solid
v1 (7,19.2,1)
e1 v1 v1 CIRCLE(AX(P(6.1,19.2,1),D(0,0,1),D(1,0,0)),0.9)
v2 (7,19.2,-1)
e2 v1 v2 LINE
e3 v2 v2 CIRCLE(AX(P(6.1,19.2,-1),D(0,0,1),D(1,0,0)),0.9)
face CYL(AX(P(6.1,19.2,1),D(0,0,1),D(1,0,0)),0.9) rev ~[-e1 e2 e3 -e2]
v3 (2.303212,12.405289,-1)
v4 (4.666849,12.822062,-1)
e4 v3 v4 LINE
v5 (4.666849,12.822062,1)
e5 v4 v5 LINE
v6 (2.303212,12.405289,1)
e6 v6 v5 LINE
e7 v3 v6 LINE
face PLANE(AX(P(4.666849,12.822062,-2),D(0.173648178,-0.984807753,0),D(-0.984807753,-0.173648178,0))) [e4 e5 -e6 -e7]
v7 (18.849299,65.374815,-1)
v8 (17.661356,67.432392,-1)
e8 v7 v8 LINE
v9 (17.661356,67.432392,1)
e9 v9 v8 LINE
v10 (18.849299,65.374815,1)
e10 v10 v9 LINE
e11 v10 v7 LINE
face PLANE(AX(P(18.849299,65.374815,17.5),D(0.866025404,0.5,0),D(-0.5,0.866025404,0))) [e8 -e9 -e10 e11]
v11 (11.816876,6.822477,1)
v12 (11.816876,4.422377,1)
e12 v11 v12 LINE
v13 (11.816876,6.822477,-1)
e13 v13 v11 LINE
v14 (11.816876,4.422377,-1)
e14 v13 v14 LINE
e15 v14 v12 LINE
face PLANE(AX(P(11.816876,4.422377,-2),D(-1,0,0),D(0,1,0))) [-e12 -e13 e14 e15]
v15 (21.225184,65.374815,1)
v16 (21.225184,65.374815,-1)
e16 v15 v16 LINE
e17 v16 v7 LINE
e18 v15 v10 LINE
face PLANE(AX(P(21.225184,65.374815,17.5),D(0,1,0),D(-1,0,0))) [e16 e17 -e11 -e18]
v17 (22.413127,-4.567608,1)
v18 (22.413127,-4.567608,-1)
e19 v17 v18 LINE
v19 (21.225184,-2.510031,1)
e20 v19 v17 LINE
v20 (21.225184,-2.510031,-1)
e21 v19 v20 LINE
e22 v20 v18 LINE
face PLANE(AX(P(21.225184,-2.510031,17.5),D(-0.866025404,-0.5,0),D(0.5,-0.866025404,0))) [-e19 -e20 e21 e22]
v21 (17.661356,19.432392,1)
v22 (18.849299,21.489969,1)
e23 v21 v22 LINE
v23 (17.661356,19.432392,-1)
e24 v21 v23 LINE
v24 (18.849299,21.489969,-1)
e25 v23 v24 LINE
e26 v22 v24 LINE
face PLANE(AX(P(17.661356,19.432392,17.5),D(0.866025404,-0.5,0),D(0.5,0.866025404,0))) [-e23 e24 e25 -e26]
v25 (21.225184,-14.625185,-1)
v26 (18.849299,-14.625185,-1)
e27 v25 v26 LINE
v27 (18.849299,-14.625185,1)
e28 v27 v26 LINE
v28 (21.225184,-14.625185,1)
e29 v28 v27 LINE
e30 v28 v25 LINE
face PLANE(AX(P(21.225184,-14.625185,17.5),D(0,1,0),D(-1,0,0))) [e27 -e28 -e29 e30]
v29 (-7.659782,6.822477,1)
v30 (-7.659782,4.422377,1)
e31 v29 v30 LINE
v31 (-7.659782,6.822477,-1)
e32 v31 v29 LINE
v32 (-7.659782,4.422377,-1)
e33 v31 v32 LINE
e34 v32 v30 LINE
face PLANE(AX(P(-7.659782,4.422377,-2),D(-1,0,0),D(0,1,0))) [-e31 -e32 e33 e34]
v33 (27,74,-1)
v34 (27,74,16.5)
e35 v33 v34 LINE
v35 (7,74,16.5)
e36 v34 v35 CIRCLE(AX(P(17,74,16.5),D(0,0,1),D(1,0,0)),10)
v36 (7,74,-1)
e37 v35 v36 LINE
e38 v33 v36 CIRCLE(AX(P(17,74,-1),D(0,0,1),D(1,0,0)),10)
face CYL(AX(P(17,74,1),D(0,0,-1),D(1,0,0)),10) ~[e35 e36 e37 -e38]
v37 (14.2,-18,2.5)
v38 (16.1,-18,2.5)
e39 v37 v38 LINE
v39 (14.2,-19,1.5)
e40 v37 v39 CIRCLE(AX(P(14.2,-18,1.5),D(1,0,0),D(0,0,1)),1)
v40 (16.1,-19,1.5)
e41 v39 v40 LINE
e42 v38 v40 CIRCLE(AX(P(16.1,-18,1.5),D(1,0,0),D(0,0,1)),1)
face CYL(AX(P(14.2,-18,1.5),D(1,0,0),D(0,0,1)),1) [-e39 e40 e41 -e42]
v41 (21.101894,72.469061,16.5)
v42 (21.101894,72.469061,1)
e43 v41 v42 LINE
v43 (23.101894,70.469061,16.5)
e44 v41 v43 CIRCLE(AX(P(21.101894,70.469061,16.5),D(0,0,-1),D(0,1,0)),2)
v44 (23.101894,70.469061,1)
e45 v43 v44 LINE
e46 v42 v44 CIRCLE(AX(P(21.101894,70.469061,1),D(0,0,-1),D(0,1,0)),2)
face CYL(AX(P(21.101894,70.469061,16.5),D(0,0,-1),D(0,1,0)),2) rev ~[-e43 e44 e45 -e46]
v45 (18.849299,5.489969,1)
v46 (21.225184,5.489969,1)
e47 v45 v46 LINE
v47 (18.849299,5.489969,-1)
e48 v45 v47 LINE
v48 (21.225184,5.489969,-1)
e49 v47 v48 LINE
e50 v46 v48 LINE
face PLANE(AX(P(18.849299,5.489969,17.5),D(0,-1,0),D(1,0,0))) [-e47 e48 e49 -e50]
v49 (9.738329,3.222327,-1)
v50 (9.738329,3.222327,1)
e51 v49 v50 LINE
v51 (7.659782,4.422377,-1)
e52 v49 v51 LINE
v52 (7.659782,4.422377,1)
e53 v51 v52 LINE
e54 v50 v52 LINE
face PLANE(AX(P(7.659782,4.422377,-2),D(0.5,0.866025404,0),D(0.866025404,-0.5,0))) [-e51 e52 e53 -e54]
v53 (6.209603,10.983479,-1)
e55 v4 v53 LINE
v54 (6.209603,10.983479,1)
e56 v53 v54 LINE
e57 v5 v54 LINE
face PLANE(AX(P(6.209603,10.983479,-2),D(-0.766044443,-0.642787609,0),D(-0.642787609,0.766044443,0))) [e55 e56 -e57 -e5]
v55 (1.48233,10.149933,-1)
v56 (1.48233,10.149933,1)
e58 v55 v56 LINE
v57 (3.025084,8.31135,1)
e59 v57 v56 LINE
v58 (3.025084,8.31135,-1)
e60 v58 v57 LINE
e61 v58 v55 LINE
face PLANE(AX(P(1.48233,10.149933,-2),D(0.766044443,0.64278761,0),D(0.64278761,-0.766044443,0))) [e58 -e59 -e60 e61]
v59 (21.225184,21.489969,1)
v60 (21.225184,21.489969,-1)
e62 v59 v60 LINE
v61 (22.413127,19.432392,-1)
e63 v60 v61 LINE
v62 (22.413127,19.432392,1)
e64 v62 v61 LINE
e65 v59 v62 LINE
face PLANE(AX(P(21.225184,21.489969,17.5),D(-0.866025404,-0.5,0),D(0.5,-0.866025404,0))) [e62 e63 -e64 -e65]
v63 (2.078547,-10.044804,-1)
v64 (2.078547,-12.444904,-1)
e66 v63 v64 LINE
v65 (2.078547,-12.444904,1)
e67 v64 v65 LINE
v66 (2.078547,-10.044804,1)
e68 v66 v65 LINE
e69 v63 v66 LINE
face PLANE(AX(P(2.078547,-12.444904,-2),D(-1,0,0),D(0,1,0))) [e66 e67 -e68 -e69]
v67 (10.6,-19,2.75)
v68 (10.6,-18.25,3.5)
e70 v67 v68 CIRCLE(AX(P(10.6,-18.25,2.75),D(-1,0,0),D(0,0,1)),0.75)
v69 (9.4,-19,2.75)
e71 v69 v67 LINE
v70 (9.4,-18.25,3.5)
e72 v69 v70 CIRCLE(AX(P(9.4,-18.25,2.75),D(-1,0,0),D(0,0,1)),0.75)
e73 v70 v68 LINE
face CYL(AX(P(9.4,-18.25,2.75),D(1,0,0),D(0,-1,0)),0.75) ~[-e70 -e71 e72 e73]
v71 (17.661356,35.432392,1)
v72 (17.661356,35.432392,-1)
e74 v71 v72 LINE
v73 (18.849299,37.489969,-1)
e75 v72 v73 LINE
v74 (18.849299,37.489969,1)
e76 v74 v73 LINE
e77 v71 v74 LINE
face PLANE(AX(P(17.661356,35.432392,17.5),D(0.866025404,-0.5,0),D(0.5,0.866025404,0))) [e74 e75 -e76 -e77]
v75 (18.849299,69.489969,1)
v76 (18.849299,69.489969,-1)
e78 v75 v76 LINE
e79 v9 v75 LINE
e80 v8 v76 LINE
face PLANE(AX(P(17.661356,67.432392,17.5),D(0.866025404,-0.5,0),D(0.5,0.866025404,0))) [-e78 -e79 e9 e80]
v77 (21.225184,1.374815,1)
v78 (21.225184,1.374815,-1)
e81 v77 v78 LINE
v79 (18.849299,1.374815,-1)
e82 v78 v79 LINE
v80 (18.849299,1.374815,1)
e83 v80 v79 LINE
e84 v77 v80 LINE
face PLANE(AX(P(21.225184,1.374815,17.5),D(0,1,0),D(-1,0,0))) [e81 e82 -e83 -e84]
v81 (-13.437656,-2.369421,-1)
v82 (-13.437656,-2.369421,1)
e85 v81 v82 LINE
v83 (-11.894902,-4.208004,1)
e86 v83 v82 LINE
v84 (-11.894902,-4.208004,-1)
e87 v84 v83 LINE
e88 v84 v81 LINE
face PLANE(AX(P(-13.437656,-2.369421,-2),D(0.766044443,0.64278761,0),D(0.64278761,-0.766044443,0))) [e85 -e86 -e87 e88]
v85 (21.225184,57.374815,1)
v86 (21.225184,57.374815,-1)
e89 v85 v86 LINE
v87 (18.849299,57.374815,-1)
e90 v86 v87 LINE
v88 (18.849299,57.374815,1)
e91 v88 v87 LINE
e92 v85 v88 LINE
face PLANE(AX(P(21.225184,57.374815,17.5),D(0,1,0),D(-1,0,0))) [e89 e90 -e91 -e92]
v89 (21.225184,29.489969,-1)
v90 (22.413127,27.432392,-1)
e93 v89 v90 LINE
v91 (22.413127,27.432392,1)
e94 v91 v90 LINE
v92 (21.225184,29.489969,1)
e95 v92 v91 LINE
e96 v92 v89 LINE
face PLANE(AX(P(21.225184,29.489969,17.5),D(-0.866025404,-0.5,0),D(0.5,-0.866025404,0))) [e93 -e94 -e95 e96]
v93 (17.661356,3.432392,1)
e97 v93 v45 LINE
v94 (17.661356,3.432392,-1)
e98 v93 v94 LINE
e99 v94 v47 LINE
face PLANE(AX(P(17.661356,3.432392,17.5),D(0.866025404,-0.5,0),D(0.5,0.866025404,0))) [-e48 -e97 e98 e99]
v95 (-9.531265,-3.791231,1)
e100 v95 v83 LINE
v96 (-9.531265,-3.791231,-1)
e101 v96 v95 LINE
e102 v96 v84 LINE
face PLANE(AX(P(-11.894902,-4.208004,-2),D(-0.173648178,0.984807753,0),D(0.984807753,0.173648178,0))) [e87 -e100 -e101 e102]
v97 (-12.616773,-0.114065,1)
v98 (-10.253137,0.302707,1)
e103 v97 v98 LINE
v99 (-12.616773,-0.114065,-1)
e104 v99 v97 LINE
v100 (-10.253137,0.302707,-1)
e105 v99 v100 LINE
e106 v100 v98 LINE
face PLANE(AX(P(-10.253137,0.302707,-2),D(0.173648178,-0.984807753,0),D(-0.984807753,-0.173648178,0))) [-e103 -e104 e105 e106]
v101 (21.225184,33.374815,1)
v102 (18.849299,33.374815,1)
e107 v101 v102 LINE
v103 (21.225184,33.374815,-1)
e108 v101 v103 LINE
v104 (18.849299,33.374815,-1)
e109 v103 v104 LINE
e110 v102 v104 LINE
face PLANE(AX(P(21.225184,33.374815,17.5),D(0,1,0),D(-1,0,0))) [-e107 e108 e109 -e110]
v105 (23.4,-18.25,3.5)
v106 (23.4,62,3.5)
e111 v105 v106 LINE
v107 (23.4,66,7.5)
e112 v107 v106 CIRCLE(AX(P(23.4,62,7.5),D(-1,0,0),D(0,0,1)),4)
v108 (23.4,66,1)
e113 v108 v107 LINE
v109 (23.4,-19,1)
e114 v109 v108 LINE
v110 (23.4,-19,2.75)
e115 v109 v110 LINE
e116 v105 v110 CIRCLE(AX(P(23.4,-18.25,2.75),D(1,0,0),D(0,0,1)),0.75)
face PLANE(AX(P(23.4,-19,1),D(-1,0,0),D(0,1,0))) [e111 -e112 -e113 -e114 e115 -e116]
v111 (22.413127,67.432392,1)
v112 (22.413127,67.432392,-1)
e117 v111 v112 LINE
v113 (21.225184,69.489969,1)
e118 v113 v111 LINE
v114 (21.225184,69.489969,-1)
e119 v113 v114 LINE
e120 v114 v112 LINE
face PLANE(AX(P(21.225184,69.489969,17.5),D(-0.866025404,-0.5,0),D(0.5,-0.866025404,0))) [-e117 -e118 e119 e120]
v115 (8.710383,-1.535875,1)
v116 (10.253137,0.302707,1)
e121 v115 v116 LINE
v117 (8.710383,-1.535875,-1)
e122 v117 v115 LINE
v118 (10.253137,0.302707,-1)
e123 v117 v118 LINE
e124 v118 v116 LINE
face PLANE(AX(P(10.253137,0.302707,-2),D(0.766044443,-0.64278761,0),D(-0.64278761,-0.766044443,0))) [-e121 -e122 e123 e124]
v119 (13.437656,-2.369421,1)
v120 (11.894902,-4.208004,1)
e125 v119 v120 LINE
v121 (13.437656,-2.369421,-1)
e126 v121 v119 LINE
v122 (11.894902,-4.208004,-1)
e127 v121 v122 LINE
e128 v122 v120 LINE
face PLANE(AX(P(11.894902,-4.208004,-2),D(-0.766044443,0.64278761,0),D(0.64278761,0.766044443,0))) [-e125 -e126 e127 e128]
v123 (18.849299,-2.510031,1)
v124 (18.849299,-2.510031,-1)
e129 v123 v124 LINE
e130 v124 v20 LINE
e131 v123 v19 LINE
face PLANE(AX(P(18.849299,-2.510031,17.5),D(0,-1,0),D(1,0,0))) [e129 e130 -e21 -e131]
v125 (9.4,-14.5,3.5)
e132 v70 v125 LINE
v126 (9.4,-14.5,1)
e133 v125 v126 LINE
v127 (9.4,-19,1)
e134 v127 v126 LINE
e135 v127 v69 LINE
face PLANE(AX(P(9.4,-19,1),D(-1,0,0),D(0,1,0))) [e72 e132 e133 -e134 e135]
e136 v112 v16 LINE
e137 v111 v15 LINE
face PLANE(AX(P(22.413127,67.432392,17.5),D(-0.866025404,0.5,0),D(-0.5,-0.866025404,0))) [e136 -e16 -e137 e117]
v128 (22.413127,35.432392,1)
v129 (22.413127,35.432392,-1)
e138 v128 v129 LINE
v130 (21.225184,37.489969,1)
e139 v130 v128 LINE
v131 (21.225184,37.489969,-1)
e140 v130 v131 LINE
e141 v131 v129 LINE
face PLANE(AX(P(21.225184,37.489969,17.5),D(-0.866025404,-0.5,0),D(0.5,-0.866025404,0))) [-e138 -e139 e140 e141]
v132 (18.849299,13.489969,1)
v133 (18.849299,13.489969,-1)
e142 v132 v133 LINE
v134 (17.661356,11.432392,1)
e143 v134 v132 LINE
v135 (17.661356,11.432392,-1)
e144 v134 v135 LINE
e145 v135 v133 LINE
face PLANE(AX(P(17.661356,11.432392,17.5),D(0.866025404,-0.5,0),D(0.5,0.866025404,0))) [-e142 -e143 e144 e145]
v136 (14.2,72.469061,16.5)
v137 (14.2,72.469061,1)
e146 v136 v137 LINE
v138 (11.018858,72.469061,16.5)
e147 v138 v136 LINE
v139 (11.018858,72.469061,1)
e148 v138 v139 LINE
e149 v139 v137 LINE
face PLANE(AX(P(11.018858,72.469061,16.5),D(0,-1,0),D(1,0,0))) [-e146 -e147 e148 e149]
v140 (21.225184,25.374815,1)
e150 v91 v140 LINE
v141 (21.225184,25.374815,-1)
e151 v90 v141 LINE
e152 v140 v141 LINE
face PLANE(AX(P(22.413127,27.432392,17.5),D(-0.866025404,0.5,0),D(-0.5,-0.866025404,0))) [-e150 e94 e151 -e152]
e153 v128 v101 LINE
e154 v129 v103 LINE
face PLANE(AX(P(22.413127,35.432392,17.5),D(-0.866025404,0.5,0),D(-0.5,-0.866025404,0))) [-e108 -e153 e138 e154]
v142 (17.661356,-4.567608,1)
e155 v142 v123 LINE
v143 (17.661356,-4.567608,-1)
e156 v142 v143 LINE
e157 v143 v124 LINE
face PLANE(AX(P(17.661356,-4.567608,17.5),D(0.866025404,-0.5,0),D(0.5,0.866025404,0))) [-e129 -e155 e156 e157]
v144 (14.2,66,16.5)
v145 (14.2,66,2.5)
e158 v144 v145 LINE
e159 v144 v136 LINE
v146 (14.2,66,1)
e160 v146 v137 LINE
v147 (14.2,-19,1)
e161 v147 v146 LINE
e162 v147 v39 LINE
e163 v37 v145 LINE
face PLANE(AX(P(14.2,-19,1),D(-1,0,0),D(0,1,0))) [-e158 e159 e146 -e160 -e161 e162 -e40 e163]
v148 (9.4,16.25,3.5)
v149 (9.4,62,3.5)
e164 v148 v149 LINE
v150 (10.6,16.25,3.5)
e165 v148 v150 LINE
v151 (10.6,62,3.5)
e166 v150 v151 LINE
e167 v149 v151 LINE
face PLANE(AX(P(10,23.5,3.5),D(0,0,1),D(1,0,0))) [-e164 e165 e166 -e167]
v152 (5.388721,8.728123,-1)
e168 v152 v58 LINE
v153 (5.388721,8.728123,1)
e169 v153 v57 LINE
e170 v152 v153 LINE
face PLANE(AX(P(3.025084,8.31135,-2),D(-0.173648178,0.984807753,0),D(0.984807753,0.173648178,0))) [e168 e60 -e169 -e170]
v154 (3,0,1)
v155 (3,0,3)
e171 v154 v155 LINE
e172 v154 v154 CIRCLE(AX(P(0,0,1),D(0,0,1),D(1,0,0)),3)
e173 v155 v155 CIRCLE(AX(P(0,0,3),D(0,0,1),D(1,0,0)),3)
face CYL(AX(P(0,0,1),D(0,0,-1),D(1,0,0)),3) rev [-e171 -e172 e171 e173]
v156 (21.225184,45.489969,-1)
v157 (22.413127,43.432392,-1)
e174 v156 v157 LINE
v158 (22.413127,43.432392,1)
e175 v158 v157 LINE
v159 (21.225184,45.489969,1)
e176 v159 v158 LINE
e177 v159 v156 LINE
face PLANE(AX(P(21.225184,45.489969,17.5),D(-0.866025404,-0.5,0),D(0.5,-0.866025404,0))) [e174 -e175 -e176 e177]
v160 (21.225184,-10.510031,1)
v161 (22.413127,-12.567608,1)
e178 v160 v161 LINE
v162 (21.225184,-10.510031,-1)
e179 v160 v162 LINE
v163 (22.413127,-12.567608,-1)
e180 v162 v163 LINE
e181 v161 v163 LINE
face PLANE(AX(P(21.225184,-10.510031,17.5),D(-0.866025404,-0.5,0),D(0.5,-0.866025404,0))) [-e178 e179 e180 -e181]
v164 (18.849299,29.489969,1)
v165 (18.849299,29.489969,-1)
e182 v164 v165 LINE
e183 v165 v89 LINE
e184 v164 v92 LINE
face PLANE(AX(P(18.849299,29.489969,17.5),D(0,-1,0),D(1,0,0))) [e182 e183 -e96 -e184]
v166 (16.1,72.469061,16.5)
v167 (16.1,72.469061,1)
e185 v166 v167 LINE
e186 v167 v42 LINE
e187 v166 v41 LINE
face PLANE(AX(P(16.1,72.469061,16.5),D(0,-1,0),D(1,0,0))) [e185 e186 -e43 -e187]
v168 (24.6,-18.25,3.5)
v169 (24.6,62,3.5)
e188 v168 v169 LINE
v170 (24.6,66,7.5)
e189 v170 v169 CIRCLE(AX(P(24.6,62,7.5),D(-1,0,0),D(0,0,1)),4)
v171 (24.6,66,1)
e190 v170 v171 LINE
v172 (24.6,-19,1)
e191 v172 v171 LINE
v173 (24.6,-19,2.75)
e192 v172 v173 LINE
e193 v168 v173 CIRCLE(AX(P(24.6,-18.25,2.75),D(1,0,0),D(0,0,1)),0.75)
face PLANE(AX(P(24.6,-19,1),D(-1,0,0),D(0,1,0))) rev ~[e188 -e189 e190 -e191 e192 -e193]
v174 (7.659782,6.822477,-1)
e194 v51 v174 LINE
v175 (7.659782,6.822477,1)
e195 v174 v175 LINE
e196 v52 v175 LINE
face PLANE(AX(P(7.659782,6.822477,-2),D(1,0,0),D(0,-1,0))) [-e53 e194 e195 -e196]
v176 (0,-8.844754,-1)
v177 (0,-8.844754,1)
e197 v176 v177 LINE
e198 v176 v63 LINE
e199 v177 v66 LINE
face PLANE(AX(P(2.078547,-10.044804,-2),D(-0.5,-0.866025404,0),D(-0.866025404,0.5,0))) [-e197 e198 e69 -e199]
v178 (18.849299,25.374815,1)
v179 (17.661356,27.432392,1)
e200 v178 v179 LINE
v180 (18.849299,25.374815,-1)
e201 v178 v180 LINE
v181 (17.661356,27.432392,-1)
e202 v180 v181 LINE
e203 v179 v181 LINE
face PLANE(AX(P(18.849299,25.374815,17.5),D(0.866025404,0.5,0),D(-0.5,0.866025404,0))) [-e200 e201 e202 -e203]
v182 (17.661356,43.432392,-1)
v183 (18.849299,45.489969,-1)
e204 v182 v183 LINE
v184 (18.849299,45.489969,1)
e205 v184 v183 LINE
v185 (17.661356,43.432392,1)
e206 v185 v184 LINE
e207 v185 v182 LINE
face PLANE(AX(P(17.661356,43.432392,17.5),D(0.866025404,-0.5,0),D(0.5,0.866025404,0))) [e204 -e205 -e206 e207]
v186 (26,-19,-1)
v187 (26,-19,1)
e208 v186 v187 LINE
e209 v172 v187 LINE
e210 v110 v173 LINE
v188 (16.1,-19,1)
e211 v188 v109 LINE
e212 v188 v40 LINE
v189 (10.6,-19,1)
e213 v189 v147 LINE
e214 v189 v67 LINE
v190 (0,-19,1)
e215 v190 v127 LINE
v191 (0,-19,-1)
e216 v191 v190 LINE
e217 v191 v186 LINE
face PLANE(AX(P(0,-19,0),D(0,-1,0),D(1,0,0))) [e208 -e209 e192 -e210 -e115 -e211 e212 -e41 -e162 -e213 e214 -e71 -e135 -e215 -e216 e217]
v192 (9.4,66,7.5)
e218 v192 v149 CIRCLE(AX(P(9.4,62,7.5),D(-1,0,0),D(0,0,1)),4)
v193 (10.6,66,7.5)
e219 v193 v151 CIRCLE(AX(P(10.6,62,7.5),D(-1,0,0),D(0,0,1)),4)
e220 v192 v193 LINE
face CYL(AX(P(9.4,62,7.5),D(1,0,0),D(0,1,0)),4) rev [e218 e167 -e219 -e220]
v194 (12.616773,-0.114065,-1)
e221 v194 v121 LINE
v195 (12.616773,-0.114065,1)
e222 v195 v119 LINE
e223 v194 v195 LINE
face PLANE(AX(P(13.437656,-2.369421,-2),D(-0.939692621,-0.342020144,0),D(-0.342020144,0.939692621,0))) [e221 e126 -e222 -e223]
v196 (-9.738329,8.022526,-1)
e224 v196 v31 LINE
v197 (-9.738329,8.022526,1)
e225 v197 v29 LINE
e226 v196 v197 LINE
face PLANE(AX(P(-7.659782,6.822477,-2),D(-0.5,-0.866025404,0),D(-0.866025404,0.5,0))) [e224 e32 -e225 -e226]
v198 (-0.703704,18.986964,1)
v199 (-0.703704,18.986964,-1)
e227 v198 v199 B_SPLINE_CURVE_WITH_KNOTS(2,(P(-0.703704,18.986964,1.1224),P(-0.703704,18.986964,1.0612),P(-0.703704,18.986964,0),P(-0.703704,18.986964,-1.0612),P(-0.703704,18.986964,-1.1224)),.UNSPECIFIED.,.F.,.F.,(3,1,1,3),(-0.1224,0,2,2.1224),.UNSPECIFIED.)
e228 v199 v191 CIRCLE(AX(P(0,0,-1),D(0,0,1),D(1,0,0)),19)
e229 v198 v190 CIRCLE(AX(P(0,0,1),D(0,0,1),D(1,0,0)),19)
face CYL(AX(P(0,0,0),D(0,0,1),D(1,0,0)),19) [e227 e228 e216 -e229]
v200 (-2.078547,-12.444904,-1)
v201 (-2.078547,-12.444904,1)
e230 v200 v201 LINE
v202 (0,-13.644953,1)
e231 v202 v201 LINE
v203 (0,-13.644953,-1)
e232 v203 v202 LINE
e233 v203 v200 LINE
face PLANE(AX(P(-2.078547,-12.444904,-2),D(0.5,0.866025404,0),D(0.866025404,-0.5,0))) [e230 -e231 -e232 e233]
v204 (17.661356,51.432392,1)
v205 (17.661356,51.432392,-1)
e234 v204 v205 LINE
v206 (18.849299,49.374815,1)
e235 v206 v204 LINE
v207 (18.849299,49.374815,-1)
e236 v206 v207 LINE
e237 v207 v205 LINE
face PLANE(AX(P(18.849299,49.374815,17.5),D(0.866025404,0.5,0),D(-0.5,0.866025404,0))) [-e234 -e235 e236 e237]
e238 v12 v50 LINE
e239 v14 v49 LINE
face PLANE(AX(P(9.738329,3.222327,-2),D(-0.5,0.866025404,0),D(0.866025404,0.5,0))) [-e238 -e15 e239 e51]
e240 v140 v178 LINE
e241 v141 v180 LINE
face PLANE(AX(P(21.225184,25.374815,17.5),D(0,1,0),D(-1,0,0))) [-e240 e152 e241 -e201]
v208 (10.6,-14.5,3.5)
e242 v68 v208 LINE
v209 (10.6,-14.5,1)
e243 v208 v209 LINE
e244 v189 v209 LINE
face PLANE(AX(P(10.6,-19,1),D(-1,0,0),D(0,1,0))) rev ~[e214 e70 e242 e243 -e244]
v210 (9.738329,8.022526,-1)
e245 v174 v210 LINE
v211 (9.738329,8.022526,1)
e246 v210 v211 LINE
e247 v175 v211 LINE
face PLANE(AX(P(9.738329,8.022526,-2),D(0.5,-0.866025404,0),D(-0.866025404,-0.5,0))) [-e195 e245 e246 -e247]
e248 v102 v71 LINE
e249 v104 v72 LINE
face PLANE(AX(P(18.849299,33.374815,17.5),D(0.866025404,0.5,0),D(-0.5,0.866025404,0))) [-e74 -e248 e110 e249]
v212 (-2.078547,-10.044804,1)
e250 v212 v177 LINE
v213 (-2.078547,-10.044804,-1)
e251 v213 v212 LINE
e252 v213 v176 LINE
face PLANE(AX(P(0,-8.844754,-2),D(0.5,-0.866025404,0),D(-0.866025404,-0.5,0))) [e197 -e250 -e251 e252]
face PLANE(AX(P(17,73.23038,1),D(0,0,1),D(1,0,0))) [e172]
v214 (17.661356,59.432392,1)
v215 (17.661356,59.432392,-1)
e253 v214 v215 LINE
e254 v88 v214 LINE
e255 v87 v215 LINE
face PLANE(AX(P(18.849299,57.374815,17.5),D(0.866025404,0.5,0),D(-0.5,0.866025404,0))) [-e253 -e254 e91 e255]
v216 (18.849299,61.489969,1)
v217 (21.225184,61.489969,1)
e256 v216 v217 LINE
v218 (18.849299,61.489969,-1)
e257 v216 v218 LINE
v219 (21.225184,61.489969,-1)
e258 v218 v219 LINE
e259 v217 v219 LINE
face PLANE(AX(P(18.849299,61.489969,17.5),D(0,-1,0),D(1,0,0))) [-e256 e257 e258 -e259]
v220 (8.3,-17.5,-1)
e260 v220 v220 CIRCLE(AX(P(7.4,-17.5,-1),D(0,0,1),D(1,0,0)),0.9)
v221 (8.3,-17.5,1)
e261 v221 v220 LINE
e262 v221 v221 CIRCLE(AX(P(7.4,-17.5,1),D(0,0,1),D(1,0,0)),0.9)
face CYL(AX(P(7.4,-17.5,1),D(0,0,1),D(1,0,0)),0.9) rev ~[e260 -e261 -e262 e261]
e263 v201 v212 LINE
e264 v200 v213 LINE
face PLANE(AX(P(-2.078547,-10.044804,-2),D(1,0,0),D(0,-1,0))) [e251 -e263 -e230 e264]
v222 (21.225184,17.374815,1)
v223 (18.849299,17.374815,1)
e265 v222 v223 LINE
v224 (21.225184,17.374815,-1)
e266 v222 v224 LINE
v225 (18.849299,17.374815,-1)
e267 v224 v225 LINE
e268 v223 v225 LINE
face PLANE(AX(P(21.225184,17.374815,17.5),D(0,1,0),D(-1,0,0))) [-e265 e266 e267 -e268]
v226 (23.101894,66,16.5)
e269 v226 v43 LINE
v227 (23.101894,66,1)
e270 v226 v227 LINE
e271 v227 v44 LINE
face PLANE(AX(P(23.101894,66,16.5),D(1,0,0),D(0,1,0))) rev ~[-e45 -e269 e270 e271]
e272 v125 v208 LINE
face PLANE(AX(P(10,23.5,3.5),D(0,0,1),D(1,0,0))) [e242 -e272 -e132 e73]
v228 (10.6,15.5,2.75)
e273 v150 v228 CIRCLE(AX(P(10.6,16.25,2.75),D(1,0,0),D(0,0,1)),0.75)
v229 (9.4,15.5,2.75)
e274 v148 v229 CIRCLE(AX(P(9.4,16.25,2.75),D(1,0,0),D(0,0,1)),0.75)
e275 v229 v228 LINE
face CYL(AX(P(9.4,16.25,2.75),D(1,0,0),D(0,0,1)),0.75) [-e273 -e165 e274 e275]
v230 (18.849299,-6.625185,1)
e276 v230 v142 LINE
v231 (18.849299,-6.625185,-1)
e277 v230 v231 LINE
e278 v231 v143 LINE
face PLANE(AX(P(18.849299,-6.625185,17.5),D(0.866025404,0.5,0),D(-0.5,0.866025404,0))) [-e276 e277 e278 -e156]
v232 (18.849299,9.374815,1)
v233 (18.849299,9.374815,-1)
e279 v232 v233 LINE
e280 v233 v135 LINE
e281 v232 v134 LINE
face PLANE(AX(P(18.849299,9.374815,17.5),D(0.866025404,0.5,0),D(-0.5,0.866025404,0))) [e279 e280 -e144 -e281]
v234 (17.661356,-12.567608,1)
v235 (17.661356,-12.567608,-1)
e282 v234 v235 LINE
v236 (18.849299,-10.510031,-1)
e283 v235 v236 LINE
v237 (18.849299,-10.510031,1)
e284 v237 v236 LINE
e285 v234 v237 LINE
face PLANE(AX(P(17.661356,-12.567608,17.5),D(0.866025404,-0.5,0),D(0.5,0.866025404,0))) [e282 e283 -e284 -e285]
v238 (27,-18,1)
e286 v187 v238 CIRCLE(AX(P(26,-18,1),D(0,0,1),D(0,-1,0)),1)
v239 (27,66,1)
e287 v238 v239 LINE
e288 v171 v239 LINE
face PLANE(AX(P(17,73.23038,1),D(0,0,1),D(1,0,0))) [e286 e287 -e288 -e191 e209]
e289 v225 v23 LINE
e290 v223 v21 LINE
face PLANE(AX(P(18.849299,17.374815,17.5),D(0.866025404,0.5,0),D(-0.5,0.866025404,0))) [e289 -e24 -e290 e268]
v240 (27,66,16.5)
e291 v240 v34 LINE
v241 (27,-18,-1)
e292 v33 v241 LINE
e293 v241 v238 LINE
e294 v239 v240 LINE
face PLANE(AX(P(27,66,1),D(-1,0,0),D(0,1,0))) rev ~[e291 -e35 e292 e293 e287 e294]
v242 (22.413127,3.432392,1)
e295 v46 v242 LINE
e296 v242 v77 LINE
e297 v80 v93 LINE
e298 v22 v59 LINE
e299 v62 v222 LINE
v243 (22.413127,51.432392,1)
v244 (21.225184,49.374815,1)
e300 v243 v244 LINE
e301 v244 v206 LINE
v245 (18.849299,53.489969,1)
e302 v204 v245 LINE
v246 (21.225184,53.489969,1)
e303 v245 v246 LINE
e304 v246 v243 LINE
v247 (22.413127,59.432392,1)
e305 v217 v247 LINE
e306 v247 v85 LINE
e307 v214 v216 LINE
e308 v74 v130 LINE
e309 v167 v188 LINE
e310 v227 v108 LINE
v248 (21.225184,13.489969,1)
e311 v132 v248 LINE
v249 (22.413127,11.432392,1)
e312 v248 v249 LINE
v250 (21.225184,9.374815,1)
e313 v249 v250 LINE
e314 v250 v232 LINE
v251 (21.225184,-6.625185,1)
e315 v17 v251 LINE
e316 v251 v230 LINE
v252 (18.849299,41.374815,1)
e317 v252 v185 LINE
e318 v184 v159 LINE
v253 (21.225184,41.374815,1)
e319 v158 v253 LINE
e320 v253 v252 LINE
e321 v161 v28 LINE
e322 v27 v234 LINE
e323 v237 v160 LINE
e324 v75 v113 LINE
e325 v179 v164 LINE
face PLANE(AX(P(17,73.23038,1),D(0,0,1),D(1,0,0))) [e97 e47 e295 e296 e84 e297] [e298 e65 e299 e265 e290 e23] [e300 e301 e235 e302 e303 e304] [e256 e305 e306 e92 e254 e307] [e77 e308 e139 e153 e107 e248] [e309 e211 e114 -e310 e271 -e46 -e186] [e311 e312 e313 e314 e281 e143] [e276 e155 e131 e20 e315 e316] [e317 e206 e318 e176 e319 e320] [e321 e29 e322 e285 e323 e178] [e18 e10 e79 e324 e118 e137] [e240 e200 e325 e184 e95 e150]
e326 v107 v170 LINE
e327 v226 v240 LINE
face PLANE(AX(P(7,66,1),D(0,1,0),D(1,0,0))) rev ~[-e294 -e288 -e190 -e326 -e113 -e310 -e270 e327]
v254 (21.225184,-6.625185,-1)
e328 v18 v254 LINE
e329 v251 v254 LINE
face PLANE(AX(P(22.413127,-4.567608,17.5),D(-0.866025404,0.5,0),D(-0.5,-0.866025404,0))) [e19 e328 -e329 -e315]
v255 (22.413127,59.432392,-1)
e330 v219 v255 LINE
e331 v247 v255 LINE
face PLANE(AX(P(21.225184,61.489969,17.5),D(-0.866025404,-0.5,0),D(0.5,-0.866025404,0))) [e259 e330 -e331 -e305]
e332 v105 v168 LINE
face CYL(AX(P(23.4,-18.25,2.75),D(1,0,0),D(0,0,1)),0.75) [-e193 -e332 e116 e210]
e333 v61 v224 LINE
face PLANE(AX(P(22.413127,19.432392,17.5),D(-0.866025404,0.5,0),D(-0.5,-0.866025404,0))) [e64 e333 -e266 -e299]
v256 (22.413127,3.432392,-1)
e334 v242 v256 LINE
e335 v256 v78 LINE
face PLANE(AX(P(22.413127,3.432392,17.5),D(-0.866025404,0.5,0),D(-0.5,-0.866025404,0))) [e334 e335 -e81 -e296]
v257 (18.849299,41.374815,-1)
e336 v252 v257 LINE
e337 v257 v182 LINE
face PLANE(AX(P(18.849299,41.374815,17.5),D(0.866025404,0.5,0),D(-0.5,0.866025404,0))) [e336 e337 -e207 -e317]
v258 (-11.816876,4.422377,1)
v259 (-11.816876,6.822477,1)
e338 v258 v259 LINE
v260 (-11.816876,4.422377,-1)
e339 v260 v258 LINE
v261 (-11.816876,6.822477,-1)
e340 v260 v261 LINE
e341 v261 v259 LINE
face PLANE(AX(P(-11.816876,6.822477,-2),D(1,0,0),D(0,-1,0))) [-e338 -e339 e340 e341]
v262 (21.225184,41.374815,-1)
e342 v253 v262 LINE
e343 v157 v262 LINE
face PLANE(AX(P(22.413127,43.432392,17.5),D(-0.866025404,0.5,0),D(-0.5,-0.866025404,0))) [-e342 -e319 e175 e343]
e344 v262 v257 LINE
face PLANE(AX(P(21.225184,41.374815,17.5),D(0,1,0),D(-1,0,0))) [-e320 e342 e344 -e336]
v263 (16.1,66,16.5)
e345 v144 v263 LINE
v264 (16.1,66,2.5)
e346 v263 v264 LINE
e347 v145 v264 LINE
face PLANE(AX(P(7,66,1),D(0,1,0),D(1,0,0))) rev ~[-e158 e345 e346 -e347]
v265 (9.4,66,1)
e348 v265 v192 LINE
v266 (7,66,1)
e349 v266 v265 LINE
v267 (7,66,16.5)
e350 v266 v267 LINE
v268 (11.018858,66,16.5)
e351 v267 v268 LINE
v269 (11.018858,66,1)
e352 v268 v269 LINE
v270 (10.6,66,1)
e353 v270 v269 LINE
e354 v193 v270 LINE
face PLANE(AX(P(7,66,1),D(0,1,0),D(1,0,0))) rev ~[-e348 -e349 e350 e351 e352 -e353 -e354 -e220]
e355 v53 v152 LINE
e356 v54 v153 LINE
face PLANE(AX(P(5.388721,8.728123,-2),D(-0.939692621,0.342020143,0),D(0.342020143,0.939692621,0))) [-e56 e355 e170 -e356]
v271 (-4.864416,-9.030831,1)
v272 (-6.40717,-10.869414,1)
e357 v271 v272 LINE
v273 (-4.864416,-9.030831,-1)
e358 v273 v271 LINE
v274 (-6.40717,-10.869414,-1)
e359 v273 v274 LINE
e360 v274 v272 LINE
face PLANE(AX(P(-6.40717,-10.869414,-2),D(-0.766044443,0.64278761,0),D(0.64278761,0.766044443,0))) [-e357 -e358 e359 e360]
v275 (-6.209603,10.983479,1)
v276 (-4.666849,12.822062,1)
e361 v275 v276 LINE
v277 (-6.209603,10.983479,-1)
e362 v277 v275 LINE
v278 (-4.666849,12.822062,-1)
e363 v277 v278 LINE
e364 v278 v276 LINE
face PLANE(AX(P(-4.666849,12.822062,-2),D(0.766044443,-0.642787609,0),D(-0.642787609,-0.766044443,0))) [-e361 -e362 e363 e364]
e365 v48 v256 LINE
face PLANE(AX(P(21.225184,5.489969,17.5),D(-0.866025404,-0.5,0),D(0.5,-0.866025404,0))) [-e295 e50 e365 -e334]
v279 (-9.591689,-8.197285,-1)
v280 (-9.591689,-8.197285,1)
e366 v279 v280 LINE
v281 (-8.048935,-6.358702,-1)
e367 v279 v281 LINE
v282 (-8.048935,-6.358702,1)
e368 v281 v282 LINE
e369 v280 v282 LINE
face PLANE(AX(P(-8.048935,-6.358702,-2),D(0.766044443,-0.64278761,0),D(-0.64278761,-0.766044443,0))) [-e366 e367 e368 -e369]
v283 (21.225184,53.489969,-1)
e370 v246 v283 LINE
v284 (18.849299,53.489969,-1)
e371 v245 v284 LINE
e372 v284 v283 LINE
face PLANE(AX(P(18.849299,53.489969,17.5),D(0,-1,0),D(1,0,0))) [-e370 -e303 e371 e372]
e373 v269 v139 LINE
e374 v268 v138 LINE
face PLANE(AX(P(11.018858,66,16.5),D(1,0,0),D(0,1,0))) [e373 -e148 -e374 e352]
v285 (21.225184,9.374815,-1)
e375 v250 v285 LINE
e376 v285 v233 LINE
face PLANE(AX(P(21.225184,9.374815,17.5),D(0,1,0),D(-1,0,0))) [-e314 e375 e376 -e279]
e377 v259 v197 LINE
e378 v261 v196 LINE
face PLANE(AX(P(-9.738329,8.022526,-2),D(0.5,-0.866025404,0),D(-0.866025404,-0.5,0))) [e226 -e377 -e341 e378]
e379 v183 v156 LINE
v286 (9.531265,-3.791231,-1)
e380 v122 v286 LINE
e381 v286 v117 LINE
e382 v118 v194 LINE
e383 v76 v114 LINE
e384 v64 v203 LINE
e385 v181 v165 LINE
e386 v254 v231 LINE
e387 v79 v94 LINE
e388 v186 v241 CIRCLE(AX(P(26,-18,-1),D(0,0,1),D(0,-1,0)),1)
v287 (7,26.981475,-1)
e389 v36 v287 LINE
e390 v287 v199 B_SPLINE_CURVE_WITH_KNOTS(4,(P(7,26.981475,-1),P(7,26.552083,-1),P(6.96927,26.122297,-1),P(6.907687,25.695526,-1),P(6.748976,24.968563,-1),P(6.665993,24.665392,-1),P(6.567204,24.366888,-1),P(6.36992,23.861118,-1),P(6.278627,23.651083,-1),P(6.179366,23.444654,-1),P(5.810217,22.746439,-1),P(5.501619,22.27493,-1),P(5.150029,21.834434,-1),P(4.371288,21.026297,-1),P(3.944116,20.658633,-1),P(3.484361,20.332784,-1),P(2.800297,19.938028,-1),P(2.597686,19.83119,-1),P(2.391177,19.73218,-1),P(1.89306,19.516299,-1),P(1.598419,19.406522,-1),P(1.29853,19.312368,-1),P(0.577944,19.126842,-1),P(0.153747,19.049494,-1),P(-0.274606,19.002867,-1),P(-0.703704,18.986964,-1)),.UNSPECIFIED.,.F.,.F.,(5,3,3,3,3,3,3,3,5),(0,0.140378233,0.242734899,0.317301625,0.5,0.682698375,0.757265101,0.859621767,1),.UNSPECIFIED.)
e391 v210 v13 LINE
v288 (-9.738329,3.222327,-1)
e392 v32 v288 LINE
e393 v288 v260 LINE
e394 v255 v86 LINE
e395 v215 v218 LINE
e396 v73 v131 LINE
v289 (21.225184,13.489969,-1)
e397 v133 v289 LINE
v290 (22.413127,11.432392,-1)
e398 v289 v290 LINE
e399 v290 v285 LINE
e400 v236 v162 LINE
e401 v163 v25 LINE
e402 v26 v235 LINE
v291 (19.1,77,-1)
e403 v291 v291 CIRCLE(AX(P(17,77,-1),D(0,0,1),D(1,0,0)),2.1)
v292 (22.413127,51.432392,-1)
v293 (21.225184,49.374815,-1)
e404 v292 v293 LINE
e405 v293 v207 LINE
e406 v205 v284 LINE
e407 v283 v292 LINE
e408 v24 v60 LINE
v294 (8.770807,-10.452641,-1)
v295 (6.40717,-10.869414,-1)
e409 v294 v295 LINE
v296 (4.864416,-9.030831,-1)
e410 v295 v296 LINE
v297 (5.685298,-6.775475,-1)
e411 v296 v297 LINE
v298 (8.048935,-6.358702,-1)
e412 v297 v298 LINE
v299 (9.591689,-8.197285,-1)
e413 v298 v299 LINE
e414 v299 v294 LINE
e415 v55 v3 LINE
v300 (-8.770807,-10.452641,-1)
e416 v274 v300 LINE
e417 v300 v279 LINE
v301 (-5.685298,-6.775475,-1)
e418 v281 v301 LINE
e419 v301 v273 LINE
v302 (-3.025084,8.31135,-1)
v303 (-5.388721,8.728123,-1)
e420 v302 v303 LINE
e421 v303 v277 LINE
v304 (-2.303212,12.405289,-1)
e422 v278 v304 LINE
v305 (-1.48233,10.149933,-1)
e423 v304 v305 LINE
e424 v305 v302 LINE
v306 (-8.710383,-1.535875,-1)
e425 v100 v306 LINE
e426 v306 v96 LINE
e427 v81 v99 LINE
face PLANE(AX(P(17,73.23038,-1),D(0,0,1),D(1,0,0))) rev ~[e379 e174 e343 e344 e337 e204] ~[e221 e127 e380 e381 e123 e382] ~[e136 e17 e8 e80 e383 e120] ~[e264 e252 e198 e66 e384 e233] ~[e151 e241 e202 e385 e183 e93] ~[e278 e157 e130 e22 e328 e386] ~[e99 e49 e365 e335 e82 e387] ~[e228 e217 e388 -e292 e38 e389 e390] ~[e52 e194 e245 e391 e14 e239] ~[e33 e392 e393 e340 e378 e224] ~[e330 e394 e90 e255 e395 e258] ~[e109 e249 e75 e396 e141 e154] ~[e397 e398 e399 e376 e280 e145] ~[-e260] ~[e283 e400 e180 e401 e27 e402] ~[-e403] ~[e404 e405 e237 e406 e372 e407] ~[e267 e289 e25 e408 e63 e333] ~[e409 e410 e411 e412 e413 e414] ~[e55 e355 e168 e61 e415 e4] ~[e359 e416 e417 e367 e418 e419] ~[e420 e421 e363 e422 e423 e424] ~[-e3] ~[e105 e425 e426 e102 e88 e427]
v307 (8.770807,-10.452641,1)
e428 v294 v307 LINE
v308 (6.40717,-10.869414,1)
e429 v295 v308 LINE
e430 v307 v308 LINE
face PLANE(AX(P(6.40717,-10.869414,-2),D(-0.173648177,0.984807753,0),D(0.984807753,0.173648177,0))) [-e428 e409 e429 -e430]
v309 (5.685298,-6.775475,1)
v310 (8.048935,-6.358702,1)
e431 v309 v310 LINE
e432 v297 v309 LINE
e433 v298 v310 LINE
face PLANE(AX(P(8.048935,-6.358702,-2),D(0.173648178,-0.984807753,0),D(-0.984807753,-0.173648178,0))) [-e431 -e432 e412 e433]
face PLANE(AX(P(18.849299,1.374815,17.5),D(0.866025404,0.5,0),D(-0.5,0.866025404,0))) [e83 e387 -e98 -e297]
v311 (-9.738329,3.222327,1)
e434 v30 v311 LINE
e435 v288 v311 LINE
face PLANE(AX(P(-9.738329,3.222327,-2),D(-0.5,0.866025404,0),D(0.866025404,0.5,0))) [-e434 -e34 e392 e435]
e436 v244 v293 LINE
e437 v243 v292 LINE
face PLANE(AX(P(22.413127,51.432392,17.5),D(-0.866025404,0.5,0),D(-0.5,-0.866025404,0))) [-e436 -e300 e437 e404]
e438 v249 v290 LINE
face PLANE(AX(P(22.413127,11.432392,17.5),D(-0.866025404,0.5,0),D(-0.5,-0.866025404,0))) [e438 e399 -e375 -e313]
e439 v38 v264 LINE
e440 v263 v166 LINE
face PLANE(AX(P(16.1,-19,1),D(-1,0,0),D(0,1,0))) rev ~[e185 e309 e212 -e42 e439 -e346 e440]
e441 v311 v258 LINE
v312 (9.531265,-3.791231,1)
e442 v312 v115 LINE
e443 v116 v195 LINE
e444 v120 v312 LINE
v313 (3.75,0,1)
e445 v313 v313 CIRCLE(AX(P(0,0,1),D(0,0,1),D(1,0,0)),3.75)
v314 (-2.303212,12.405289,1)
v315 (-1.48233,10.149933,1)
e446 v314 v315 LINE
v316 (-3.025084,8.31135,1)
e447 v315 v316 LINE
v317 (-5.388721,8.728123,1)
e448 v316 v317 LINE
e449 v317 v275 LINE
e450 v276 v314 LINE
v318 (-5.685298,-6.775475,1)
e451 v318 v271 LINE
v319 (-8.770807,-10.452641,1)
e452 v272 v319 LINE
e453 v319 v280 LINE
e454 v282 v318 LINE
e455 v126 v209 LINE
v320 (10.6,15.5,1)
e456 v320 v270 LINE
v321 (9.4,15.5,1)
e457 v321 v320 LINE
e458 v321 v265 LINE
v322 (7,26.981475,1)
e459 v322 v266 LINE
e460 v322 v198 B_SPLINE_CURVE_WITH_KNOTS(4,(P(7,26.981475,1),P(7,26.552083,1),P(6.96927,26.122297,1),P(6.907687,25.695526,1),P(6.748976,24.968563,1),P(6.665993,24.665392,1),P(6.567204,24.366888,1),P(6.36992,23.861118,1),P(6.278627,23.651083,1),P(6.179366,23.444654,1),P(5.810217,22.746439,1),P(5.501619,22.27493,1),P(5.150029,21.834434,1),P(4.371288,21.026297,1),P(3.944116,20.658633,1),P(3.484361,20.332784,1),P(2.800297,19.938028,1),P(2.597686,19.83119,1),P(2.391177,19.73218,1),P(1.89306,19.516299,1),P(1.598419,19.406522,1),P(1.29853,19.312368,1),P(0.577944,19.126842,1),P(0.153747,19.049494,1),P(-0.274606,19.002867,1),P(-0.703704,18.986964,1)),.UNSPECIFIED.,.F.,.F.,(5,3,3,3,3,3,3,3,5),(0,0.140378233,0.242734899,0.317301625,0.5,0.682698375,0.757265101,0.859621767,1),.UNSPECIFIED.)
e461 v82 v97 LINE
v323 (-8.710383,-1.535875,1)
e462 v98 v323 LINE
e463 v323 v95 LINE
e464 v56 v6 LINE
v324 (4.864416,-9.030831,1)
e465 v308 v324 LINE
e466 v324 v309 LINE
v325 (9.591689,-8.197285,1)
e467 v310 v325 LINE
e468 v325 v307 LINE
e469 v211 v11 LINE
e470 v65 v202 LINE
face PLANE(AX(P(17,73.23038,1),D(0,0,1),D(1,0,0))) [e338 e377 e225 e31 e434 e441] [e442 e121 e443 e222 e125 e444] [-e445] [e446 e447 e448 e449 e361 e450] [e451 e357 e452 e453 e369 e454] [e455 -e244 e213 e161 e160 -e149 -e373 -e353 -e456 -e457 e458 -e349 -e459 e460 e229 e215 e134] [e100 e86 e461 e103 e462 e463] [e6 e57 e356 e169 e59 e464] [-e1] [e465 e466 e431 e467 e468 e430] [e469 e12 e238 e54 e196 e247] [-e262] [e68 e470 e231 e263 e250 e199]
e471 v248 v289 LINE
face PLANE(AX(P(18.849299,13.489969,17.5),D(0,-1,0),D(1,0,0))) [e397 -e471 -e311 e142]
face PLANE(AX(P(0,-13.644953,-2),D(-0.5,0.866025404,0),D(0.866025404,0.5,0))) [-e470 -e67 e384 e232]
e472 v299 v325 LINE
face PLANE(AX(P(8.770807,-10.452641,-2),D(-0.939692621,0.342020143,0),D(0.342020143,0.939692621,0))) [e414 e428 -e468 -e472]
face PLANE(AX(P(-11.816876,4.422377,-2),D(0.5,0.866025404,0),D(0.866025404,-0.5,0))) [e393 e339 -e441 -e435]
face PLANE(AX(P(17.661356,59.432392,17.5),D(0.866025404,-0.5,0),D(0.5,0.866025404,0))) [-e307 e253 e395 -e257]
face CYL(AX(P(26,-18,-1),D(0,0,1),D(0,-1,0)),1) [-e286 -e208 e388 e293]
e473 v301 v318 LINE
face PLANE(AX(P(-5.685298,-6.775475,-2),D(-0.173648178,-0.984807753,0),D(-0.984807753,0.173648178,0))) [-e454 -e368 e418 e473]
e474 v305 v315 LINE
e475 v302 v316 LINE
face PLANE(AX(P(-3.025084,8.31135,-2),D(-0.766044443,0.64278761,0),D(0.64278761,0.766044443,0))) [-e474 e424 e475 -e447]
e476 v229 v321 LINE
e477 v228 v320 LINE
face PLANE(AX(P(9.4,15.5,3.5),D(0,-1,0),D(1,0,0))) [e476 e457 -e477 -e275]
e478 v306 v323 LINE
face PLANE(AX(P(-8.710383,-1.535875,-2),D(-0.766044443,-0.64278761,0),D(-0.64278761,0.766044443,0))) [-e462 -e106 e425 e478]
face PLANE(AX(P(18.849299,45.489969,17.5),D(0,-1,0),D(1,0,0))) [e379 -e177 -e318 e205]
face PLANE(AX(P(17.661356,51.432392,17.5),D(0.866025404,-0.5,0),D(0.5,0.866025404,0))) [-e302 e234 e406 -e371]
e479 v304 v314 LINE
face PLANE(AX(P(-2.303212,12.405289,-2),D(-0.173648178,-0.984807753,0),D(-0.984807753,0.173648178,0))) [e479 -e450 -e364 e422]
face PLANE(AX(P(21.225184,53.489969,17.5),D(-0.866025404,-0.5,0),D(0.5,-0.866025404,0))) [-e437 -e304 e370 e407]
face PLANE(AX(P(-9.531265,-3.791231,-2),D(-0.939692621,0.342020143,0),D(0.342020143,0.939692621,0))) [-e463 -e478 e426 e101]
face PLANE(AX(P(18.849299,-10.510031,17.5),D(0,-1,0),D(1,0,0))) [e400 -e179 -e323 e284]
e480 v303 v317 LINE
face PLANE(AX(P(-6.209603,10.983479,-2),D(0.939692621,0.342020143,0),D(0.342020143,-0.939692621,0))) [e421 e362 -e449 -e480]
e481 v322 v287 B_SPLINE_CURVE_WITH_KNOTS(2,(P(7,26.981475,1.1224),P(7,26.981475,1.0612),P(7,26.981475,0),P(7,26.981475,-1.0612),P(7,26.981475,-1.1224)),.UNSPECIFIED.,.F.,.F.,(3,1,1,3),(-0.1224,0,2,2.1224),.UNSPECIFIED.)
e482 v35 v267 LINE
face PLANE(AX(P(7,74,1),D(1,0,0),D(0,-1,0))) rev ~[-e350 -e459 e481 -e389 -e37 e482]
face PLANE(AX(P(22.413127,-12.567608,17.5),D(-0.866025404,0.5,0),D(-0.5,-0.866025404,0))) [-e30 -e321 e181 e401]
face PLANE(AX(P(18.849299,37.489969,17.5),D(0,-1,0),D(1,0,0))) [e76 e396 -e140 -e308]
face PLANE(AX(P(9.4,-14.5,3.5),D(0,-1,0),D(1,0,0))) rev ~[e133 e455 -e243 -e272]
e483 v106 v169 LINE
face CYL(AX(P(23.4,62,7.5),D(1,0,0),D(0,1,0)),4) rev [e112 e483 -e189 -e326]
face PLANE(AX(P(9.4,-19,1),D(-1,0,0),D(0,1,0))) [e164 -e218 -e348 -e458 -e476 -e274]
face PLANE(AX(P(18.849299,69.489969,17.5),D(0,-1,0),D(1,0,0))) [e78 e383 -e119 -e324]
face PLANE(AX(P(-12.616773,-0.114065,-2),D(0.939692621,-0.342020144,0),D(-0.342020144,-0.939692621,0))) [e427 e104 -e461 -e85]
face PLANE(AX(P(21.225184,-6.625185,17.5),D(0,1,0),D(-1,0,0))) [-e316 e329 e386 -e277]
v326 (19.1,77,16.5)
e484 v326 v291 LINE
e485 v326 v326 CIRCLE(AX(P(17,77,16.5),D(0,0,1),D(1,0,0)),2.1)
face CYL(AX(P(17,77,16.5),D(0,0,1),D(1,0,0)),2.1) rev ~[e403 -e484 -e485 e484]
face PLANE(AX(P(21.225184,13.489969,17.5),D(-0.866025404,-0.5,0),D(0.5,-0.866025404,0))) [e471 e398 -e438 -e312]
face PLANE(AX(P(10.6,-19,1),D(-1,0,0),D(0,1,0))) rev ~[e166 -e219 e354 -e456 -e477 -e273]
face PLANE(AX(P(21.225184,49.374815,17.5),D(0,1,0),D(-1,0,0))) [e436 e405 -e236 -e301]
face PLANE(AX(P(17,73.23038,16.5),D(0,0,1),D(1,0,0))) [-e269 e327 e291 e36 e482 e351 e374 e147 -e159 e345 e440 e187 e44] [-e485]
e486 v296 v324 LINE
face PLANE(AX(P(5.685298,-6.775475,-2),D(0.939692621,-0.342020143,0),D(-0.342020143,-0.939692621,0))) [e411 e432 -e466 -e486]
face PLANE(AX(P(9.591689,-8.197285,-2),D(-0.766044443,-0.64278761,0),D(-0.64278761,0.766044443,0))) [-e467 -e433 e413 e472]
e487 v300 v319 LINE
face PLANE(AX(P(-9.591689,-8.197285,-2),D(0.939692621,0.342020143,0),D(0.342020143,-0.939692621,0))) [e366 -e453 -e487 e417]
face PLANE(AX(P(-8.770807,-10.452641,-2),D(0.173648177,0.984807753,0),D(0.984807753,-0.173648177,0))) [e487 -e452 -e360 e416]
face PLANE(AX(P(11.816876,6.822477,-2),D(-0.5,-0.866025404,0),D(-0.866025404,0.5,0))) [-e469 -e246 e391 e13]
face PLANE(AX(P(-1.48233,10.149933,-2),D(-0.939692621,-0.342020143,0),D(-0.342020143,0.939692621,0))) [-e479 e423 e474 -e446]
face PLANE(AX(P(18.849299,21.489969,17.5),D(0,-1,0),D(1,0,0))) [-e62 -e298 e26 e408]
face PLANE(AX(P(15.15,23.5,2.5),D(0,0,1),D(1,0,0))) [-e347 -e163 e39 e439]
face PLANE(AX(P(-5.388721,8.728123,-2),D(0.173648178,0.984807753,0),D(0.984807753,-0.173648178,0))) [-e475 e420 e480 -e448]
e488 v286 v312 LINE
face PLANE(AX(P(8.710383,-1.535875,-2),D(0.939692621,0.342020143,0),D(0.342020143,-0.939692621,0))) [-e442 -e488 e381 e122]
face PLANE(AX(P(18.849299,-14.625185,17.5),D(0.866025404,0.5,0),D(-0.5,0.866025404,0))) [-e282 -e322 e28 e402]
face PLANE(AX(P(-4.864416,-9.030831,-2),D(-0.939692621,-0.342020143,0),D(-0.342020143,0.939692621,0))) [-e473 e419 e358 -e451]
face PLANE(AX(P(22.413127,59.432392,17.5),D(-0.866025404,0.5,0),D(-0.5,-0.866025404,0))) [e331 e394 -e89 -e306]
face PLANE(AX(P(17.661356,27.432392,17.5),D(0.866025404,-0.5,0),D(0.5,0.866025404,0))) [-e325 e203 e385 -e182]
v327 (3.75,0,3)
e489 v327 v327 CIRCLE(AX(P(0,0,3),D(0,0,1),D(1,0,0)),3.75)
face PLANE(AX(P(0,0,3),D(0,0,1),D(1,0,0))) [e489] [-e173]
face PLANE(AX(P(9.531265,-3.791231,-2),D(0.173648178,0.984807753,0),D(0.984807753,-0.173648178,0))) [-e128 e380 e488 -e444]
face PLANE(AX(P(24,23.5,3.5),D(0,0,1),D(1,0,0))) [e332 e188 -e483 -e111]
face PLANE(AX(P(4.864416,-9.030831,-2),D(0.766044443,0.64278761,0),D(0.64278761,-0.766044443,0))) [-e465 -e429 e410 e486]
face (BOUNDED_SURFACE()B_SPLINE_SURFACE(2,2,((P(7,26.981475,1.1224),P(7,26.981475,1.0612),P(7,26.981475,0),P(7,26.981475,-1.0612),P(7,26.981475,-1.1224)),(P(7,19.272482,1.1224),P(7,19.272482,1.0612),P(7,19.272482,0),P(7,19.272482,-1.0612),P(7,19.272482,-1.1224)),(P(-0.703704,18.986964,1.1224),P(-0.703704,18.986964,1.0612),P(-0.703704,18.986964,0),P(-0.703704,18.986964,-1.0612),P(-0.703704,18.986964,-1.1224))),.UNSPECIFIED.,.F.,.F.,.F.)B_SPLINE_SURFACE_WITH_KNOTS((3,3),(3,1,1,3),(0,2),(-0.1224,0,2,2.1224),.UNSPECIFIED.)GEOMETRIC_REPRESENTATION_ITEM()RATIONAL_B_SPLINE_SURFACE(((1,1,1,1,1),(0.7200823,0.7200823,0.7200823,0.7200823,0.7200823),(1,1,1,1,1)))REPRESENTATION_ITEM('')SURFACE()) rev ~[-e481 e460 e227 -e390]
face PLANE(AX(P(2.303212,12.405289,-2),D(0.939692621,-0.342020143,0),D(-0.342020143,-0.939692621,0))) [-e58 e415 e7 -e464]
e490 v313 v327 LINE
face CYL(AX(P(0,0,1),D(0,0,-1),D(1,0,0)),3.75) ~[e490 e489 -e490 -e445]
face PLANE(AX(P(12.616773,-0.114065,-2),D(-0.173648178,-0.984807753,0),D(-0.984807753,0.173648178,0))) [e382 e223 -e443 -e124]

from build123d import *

# Parameters (mm, degrees)
BODYTOP_R                       = 19
BODY_TOP_DEPTH                  = 1
SKIZZE_LAMELLEN_W               = 1.2
SKIZZE_LAMELLEN_H               = 85
LAMMELLEN_DEPTH                 = 2.5
SKIZZE1_W                       = 1.9
SKIZZE1_H                       = 85
FUEHRUNG_DEPTH                  = 1.5
VERRUNDUNG6_R                   = 1
SPARUNG_W                       = 1.2
SPARUNG_H                       = 30
AUSSPARUNG_DEPTH                = 2.5
ANBAUPLATTE_DEPTH               = 1
ANBAUSTUTZEN_DEPTH              = 15.5
SKIZZEDRUCKERZAHNRAD_R          = 3.75
SKIZZEDRUCKERZAHNRAD_R_2        = 3
DRUCKER_ZAHNRAD_DEPTH           = 2
SKIZZEHALTERLOCH_R              = 2.1
HALTERLOCH_DEPTH                = 18.5
VERRUNDUNG24_R                  = 8
SKIZZEBOHRLOCH_R                = 0.9
BOHRLOCH_DEPTH                  = 10
SKIZZE6_W                       = 7.001894066
SKIZZE6_H                       = 6.469061082
SKIZZE6_W_2                     = 3.181141547
SCHNITT_LINEAR_AUSTRAGEN4_DEPTH = 15.5
VERRUNDUNG34_R                  = 1
SCHNITT_LINEAR_START            = -18.5000001
SCHNITT_LINEAR_AUSTRAGEN5_DEPTH = 19.5000002
LINEARES_MUSTER2_COUNT          = 11
LINEARES_MUSTER2_PITCH          = 8
SCHNITT_LINEAR_START_2          = -3.0000001
SCHNITT_LINEAR_AUSTRAGEN6_DEPTH = 19.5000002
KREISMUSTER1_COUNT              = 9
VERRUNDUNG35_R                  = 2
VERRUNDUNG36_R                  = 4
VERRUNDUNG37_R                  = 4
VERRUNDUNG38_R                  = 0.75


with BuildPart() as part:
    # BodyTop → body-top (new body, symmetric)
    with BuildSketch(Plane.XY):
        Circle(BODYTOP_R)
        with BuildLine():
            ThreePointArc((19, 0), (13.435028843, -13.435028843), (0, -19))
            Line((0, -19), (27, -19))
            Line((27, -19), (27, 66))
            Line((27, 66), (7, 66))
            Line((7, 66), (7, 19))
            Line((7, 19), (0, 19))
            ThreePointArc((0, 19), (13.435028843, 13.435028843), (19, 0))
        make_face()
    extrude(amount=BODY_TOP_DEPTH, both=True)

    # skizze_lamellen → Lammellen (add)
    with BuildSketch(Plane.XY.offset(1)):
        with Locations((24, 23.5)):
            Rectangle(SKIZZE_LAMELLEN_W, SKIZZE_LAMELLEN_H)
        with Locations((10, 23.5)):
            Rectangle(SKIZZE_LAMELLEN_W, SKIZZE_LAMELLEN_H)
    extrude(amount=LAMMELLEN_DEPTH)

    # Skizze1 → fuehrung (add)
    with BuildSketch(Plane.XY.offset(1)):
        with Locations((15.15, 23.5)):
            Rectangle(SKIZZE1_W, SKIZZE1_H)
    extrude(amount=FUEHRUNG_DEPTH)

    # Verrundung6
    verrundung6_edges = [part.edges().sort_by_distance(p)[0] for p in [
        (27, -19, 0),
    ]]
    fillet(verrundung6_edges, radius=VERRUNDUNG6_R)

    # sparung → Aussparung (cut)
    with BuildSketch(Plane.XY.offset(3.5)):
        with Locations((10, 0.5)):
            Rectangle(SPARUNG_W, SPARUNG_H)
    extrude(amount=-AUSSPARUNG_DEPTH, mode=Mode.SUBTRACT)

    # SkizzeAnbau → Anbauplatte (add, symmetric)
    with BuildSketch(Plane.XY):
        with BuildLine():
            Line((7, 74), (7, 66))
            Line((7, 66), (27, 66))
            Line((27, 66), (27, 74))
            ThreePointArc((27, 74), (17, 84), (7, 74))
        make_face()
    extrude(amount=ANBAUPLATTE_DEPTH, both=True)

    # SkizzeStutzen → anbaustutzen (add)
    with BuildSketch(Plane.XY.offset(1)):
        with BuildLine():
            Line((7, 66), (27, 66))
            Line((27, 66), (27, 74))
            ThreePointArc((27, 74), (17, 84), (7, 74))
            Line((7, 74), (7, 66))
        make_face()
    extrude(amount=ANBAUSTUTZEN_DEPTH)

    # Skizzedruckerzahnrad → drucker zahnrad (add)
    with BuildSketch(Plane.XY.offset(1)):
        Circle(SKIZZEDRUCKERZAHNRAD_R)
        Circle(SKIZZEDRUCKERZAHNRAD_R_2, mode=Mode.SUBTRACT)
    extrude(amount=DRUCKER_ZAHNRAD_DEPTH)

    # SkizzeHalterloch → halterloch (cut)
    with BuildSketch(Plane.XY.offset(16.5)):
        with Locations((17, 77)):
            Circle(SKIZZEHALTERLOCH_R)
    extrude(amount=-HALTERLOCH_DEPTH, mode=Mode.SUBTRACT)

    # Verrundung24
    verrundung24_edges = [part.edges().sort_by_distance(p)[0] for p in [
        (7, 19, 0),
    ]]
    fillet(verrundung24_edges, radius=VERRUNDUNG24_R)

    # Skizzebohrloch → bohrloch (cut)
    with BuildSketch(Plane.XY.offset(1)):
        with Locations((7.4, -17.5)):
            Circle(SKIZZEBOHRLOCH_R)
        with Locations((6.1, 19.2)):
            Circle(SKIZZEBOHRLOCH_R)
    extrude(amount=-BOHRLOCH_DEPTH, mode=Mode.SUBTRACT)

    # Skizze6 → Schnitt-Linear austragen4 (cut)
    with BuildSketch(Plane.XY.offset(16.5)):
        with Locations((19.600947033, 69.234530541)):
            Rectangle(SKIZZE6_W, SKIZZE6_H)
        with Locations((12.609429227, 69.234530541)):
            Rectangle(SKIZZE6_W_2, SKIZZE6_H)
    extrude(amount=-SCHNITT_LINEAR_AUSTRAGEN4_DEPTH, mode=Mode.SUBTRACT)

    # Verrundung34
    verrundung34_edges = [part.edges().sort_by_distance(p)[0] for p in [
        (15.15, -19, 2.5),
    ]]
    fillet(verrundung34_edges, radius=VERRUNDUNG34_R)

    # Skizze7 → Schnitt-Linear austragen5 (cut)
    with BuildSketch(Plane(origin=(0, 0, -1), x_dir=(-1, 0, 0), z_dir=(0, 0, -1)).offset(SCHNITT_LINEAR_START)):
        Polygon((-22.413127148, -12.56760803), (-21.225184268, -14.625185455), (-18.849298507, -14.625185455), (-17.661355626, -12.56760803), (-18.849298507, -10.510030604), (-21.225184268, -10.510030604), align=None)
    schnitt_linear_austragen5 = extrude(amount=SCHNITT_LINEAR_AUSTRAGEN5_DEPTH, mode=Mode.SUBTRACT)

    # Lineares Muster2: Schnitt-Linear austragen5 ×11
    with Locations(*[(0, i * LINEARES_MUSTER2_PITCH, 0) for i in range(1, LINEARES_MUSTER2_COUNT)]):
        add(schnitt_linear_austragen5, mode=Mode.SUBTRACT)

    # Skizze8 → Schnitt-Linear austragen6 (cut)
    with BuildSketch(Plane.XY.offset(1).offset(SCHNITT_LINEAR_START_2)):
        Polygon((0, -8.844754272), (-2.078547165, -10.044804037), (-2.078547165, -12.444903567), (0, -13.644953333), (2.078547165, -12.444903567), (2.078547165, -10.044804037), align=None)
    schnitt_linear_austragen6 = extrude(amount=SCHNITT_LINEAR_AUSTRAGEN6_DEPTH, mode=Mode.SUBTRACT)

    # Kreismuster1: Schnitt-Linear austragen6 ×9 about axis
    kreismuster1_axis = Axis((0, 0, 0), (0, 0, 1))
    for i in range(1, KREISMUSTER1_COUNT):
        add(schnitt_linear_austragen6.rotate(kreismuster1_axis, i * 360 / KREISMUSTER1_COUNT), mode=Mode.SUBTRACT)

    # Verrundung35
    verrundung35_edges = [part.edges().sort_by_distance(p)[0] for p in [
        (23.101894066, 72.469061082, 8.75),
    ]]
    fillet(verrundung35_edges, radius=VERRUNDUNG35_R)

    # Verrundung36
    verrundung36_edges = [part.edges().sort_by_distance(p)[0] for p in [
        (10, 66, 3.5),
    ]]
    fillet(verrundung36_edges, radius=VERRUNDUNG36_R)

    # Verrundung37
    verrundung37_edges = [part.edges().sort_by_distance(p)[0] for p in [
        (24, 66, 3.5),
    ]]
    fillet(verrundung37_edges, radius=VERRUNDUNG37_R)

    # Verrundung38
    verrundung38_edges = [part.edges().sort_by_distance(p)[0] for p in [
        (10, 15.5, 3.5),
        (10, -19, 3.5),
        (24, -19, 3.5),
    ]]
    fillet(verrundung38_edges, radius=VERRUNDUNG38_R)


solid = part.part
